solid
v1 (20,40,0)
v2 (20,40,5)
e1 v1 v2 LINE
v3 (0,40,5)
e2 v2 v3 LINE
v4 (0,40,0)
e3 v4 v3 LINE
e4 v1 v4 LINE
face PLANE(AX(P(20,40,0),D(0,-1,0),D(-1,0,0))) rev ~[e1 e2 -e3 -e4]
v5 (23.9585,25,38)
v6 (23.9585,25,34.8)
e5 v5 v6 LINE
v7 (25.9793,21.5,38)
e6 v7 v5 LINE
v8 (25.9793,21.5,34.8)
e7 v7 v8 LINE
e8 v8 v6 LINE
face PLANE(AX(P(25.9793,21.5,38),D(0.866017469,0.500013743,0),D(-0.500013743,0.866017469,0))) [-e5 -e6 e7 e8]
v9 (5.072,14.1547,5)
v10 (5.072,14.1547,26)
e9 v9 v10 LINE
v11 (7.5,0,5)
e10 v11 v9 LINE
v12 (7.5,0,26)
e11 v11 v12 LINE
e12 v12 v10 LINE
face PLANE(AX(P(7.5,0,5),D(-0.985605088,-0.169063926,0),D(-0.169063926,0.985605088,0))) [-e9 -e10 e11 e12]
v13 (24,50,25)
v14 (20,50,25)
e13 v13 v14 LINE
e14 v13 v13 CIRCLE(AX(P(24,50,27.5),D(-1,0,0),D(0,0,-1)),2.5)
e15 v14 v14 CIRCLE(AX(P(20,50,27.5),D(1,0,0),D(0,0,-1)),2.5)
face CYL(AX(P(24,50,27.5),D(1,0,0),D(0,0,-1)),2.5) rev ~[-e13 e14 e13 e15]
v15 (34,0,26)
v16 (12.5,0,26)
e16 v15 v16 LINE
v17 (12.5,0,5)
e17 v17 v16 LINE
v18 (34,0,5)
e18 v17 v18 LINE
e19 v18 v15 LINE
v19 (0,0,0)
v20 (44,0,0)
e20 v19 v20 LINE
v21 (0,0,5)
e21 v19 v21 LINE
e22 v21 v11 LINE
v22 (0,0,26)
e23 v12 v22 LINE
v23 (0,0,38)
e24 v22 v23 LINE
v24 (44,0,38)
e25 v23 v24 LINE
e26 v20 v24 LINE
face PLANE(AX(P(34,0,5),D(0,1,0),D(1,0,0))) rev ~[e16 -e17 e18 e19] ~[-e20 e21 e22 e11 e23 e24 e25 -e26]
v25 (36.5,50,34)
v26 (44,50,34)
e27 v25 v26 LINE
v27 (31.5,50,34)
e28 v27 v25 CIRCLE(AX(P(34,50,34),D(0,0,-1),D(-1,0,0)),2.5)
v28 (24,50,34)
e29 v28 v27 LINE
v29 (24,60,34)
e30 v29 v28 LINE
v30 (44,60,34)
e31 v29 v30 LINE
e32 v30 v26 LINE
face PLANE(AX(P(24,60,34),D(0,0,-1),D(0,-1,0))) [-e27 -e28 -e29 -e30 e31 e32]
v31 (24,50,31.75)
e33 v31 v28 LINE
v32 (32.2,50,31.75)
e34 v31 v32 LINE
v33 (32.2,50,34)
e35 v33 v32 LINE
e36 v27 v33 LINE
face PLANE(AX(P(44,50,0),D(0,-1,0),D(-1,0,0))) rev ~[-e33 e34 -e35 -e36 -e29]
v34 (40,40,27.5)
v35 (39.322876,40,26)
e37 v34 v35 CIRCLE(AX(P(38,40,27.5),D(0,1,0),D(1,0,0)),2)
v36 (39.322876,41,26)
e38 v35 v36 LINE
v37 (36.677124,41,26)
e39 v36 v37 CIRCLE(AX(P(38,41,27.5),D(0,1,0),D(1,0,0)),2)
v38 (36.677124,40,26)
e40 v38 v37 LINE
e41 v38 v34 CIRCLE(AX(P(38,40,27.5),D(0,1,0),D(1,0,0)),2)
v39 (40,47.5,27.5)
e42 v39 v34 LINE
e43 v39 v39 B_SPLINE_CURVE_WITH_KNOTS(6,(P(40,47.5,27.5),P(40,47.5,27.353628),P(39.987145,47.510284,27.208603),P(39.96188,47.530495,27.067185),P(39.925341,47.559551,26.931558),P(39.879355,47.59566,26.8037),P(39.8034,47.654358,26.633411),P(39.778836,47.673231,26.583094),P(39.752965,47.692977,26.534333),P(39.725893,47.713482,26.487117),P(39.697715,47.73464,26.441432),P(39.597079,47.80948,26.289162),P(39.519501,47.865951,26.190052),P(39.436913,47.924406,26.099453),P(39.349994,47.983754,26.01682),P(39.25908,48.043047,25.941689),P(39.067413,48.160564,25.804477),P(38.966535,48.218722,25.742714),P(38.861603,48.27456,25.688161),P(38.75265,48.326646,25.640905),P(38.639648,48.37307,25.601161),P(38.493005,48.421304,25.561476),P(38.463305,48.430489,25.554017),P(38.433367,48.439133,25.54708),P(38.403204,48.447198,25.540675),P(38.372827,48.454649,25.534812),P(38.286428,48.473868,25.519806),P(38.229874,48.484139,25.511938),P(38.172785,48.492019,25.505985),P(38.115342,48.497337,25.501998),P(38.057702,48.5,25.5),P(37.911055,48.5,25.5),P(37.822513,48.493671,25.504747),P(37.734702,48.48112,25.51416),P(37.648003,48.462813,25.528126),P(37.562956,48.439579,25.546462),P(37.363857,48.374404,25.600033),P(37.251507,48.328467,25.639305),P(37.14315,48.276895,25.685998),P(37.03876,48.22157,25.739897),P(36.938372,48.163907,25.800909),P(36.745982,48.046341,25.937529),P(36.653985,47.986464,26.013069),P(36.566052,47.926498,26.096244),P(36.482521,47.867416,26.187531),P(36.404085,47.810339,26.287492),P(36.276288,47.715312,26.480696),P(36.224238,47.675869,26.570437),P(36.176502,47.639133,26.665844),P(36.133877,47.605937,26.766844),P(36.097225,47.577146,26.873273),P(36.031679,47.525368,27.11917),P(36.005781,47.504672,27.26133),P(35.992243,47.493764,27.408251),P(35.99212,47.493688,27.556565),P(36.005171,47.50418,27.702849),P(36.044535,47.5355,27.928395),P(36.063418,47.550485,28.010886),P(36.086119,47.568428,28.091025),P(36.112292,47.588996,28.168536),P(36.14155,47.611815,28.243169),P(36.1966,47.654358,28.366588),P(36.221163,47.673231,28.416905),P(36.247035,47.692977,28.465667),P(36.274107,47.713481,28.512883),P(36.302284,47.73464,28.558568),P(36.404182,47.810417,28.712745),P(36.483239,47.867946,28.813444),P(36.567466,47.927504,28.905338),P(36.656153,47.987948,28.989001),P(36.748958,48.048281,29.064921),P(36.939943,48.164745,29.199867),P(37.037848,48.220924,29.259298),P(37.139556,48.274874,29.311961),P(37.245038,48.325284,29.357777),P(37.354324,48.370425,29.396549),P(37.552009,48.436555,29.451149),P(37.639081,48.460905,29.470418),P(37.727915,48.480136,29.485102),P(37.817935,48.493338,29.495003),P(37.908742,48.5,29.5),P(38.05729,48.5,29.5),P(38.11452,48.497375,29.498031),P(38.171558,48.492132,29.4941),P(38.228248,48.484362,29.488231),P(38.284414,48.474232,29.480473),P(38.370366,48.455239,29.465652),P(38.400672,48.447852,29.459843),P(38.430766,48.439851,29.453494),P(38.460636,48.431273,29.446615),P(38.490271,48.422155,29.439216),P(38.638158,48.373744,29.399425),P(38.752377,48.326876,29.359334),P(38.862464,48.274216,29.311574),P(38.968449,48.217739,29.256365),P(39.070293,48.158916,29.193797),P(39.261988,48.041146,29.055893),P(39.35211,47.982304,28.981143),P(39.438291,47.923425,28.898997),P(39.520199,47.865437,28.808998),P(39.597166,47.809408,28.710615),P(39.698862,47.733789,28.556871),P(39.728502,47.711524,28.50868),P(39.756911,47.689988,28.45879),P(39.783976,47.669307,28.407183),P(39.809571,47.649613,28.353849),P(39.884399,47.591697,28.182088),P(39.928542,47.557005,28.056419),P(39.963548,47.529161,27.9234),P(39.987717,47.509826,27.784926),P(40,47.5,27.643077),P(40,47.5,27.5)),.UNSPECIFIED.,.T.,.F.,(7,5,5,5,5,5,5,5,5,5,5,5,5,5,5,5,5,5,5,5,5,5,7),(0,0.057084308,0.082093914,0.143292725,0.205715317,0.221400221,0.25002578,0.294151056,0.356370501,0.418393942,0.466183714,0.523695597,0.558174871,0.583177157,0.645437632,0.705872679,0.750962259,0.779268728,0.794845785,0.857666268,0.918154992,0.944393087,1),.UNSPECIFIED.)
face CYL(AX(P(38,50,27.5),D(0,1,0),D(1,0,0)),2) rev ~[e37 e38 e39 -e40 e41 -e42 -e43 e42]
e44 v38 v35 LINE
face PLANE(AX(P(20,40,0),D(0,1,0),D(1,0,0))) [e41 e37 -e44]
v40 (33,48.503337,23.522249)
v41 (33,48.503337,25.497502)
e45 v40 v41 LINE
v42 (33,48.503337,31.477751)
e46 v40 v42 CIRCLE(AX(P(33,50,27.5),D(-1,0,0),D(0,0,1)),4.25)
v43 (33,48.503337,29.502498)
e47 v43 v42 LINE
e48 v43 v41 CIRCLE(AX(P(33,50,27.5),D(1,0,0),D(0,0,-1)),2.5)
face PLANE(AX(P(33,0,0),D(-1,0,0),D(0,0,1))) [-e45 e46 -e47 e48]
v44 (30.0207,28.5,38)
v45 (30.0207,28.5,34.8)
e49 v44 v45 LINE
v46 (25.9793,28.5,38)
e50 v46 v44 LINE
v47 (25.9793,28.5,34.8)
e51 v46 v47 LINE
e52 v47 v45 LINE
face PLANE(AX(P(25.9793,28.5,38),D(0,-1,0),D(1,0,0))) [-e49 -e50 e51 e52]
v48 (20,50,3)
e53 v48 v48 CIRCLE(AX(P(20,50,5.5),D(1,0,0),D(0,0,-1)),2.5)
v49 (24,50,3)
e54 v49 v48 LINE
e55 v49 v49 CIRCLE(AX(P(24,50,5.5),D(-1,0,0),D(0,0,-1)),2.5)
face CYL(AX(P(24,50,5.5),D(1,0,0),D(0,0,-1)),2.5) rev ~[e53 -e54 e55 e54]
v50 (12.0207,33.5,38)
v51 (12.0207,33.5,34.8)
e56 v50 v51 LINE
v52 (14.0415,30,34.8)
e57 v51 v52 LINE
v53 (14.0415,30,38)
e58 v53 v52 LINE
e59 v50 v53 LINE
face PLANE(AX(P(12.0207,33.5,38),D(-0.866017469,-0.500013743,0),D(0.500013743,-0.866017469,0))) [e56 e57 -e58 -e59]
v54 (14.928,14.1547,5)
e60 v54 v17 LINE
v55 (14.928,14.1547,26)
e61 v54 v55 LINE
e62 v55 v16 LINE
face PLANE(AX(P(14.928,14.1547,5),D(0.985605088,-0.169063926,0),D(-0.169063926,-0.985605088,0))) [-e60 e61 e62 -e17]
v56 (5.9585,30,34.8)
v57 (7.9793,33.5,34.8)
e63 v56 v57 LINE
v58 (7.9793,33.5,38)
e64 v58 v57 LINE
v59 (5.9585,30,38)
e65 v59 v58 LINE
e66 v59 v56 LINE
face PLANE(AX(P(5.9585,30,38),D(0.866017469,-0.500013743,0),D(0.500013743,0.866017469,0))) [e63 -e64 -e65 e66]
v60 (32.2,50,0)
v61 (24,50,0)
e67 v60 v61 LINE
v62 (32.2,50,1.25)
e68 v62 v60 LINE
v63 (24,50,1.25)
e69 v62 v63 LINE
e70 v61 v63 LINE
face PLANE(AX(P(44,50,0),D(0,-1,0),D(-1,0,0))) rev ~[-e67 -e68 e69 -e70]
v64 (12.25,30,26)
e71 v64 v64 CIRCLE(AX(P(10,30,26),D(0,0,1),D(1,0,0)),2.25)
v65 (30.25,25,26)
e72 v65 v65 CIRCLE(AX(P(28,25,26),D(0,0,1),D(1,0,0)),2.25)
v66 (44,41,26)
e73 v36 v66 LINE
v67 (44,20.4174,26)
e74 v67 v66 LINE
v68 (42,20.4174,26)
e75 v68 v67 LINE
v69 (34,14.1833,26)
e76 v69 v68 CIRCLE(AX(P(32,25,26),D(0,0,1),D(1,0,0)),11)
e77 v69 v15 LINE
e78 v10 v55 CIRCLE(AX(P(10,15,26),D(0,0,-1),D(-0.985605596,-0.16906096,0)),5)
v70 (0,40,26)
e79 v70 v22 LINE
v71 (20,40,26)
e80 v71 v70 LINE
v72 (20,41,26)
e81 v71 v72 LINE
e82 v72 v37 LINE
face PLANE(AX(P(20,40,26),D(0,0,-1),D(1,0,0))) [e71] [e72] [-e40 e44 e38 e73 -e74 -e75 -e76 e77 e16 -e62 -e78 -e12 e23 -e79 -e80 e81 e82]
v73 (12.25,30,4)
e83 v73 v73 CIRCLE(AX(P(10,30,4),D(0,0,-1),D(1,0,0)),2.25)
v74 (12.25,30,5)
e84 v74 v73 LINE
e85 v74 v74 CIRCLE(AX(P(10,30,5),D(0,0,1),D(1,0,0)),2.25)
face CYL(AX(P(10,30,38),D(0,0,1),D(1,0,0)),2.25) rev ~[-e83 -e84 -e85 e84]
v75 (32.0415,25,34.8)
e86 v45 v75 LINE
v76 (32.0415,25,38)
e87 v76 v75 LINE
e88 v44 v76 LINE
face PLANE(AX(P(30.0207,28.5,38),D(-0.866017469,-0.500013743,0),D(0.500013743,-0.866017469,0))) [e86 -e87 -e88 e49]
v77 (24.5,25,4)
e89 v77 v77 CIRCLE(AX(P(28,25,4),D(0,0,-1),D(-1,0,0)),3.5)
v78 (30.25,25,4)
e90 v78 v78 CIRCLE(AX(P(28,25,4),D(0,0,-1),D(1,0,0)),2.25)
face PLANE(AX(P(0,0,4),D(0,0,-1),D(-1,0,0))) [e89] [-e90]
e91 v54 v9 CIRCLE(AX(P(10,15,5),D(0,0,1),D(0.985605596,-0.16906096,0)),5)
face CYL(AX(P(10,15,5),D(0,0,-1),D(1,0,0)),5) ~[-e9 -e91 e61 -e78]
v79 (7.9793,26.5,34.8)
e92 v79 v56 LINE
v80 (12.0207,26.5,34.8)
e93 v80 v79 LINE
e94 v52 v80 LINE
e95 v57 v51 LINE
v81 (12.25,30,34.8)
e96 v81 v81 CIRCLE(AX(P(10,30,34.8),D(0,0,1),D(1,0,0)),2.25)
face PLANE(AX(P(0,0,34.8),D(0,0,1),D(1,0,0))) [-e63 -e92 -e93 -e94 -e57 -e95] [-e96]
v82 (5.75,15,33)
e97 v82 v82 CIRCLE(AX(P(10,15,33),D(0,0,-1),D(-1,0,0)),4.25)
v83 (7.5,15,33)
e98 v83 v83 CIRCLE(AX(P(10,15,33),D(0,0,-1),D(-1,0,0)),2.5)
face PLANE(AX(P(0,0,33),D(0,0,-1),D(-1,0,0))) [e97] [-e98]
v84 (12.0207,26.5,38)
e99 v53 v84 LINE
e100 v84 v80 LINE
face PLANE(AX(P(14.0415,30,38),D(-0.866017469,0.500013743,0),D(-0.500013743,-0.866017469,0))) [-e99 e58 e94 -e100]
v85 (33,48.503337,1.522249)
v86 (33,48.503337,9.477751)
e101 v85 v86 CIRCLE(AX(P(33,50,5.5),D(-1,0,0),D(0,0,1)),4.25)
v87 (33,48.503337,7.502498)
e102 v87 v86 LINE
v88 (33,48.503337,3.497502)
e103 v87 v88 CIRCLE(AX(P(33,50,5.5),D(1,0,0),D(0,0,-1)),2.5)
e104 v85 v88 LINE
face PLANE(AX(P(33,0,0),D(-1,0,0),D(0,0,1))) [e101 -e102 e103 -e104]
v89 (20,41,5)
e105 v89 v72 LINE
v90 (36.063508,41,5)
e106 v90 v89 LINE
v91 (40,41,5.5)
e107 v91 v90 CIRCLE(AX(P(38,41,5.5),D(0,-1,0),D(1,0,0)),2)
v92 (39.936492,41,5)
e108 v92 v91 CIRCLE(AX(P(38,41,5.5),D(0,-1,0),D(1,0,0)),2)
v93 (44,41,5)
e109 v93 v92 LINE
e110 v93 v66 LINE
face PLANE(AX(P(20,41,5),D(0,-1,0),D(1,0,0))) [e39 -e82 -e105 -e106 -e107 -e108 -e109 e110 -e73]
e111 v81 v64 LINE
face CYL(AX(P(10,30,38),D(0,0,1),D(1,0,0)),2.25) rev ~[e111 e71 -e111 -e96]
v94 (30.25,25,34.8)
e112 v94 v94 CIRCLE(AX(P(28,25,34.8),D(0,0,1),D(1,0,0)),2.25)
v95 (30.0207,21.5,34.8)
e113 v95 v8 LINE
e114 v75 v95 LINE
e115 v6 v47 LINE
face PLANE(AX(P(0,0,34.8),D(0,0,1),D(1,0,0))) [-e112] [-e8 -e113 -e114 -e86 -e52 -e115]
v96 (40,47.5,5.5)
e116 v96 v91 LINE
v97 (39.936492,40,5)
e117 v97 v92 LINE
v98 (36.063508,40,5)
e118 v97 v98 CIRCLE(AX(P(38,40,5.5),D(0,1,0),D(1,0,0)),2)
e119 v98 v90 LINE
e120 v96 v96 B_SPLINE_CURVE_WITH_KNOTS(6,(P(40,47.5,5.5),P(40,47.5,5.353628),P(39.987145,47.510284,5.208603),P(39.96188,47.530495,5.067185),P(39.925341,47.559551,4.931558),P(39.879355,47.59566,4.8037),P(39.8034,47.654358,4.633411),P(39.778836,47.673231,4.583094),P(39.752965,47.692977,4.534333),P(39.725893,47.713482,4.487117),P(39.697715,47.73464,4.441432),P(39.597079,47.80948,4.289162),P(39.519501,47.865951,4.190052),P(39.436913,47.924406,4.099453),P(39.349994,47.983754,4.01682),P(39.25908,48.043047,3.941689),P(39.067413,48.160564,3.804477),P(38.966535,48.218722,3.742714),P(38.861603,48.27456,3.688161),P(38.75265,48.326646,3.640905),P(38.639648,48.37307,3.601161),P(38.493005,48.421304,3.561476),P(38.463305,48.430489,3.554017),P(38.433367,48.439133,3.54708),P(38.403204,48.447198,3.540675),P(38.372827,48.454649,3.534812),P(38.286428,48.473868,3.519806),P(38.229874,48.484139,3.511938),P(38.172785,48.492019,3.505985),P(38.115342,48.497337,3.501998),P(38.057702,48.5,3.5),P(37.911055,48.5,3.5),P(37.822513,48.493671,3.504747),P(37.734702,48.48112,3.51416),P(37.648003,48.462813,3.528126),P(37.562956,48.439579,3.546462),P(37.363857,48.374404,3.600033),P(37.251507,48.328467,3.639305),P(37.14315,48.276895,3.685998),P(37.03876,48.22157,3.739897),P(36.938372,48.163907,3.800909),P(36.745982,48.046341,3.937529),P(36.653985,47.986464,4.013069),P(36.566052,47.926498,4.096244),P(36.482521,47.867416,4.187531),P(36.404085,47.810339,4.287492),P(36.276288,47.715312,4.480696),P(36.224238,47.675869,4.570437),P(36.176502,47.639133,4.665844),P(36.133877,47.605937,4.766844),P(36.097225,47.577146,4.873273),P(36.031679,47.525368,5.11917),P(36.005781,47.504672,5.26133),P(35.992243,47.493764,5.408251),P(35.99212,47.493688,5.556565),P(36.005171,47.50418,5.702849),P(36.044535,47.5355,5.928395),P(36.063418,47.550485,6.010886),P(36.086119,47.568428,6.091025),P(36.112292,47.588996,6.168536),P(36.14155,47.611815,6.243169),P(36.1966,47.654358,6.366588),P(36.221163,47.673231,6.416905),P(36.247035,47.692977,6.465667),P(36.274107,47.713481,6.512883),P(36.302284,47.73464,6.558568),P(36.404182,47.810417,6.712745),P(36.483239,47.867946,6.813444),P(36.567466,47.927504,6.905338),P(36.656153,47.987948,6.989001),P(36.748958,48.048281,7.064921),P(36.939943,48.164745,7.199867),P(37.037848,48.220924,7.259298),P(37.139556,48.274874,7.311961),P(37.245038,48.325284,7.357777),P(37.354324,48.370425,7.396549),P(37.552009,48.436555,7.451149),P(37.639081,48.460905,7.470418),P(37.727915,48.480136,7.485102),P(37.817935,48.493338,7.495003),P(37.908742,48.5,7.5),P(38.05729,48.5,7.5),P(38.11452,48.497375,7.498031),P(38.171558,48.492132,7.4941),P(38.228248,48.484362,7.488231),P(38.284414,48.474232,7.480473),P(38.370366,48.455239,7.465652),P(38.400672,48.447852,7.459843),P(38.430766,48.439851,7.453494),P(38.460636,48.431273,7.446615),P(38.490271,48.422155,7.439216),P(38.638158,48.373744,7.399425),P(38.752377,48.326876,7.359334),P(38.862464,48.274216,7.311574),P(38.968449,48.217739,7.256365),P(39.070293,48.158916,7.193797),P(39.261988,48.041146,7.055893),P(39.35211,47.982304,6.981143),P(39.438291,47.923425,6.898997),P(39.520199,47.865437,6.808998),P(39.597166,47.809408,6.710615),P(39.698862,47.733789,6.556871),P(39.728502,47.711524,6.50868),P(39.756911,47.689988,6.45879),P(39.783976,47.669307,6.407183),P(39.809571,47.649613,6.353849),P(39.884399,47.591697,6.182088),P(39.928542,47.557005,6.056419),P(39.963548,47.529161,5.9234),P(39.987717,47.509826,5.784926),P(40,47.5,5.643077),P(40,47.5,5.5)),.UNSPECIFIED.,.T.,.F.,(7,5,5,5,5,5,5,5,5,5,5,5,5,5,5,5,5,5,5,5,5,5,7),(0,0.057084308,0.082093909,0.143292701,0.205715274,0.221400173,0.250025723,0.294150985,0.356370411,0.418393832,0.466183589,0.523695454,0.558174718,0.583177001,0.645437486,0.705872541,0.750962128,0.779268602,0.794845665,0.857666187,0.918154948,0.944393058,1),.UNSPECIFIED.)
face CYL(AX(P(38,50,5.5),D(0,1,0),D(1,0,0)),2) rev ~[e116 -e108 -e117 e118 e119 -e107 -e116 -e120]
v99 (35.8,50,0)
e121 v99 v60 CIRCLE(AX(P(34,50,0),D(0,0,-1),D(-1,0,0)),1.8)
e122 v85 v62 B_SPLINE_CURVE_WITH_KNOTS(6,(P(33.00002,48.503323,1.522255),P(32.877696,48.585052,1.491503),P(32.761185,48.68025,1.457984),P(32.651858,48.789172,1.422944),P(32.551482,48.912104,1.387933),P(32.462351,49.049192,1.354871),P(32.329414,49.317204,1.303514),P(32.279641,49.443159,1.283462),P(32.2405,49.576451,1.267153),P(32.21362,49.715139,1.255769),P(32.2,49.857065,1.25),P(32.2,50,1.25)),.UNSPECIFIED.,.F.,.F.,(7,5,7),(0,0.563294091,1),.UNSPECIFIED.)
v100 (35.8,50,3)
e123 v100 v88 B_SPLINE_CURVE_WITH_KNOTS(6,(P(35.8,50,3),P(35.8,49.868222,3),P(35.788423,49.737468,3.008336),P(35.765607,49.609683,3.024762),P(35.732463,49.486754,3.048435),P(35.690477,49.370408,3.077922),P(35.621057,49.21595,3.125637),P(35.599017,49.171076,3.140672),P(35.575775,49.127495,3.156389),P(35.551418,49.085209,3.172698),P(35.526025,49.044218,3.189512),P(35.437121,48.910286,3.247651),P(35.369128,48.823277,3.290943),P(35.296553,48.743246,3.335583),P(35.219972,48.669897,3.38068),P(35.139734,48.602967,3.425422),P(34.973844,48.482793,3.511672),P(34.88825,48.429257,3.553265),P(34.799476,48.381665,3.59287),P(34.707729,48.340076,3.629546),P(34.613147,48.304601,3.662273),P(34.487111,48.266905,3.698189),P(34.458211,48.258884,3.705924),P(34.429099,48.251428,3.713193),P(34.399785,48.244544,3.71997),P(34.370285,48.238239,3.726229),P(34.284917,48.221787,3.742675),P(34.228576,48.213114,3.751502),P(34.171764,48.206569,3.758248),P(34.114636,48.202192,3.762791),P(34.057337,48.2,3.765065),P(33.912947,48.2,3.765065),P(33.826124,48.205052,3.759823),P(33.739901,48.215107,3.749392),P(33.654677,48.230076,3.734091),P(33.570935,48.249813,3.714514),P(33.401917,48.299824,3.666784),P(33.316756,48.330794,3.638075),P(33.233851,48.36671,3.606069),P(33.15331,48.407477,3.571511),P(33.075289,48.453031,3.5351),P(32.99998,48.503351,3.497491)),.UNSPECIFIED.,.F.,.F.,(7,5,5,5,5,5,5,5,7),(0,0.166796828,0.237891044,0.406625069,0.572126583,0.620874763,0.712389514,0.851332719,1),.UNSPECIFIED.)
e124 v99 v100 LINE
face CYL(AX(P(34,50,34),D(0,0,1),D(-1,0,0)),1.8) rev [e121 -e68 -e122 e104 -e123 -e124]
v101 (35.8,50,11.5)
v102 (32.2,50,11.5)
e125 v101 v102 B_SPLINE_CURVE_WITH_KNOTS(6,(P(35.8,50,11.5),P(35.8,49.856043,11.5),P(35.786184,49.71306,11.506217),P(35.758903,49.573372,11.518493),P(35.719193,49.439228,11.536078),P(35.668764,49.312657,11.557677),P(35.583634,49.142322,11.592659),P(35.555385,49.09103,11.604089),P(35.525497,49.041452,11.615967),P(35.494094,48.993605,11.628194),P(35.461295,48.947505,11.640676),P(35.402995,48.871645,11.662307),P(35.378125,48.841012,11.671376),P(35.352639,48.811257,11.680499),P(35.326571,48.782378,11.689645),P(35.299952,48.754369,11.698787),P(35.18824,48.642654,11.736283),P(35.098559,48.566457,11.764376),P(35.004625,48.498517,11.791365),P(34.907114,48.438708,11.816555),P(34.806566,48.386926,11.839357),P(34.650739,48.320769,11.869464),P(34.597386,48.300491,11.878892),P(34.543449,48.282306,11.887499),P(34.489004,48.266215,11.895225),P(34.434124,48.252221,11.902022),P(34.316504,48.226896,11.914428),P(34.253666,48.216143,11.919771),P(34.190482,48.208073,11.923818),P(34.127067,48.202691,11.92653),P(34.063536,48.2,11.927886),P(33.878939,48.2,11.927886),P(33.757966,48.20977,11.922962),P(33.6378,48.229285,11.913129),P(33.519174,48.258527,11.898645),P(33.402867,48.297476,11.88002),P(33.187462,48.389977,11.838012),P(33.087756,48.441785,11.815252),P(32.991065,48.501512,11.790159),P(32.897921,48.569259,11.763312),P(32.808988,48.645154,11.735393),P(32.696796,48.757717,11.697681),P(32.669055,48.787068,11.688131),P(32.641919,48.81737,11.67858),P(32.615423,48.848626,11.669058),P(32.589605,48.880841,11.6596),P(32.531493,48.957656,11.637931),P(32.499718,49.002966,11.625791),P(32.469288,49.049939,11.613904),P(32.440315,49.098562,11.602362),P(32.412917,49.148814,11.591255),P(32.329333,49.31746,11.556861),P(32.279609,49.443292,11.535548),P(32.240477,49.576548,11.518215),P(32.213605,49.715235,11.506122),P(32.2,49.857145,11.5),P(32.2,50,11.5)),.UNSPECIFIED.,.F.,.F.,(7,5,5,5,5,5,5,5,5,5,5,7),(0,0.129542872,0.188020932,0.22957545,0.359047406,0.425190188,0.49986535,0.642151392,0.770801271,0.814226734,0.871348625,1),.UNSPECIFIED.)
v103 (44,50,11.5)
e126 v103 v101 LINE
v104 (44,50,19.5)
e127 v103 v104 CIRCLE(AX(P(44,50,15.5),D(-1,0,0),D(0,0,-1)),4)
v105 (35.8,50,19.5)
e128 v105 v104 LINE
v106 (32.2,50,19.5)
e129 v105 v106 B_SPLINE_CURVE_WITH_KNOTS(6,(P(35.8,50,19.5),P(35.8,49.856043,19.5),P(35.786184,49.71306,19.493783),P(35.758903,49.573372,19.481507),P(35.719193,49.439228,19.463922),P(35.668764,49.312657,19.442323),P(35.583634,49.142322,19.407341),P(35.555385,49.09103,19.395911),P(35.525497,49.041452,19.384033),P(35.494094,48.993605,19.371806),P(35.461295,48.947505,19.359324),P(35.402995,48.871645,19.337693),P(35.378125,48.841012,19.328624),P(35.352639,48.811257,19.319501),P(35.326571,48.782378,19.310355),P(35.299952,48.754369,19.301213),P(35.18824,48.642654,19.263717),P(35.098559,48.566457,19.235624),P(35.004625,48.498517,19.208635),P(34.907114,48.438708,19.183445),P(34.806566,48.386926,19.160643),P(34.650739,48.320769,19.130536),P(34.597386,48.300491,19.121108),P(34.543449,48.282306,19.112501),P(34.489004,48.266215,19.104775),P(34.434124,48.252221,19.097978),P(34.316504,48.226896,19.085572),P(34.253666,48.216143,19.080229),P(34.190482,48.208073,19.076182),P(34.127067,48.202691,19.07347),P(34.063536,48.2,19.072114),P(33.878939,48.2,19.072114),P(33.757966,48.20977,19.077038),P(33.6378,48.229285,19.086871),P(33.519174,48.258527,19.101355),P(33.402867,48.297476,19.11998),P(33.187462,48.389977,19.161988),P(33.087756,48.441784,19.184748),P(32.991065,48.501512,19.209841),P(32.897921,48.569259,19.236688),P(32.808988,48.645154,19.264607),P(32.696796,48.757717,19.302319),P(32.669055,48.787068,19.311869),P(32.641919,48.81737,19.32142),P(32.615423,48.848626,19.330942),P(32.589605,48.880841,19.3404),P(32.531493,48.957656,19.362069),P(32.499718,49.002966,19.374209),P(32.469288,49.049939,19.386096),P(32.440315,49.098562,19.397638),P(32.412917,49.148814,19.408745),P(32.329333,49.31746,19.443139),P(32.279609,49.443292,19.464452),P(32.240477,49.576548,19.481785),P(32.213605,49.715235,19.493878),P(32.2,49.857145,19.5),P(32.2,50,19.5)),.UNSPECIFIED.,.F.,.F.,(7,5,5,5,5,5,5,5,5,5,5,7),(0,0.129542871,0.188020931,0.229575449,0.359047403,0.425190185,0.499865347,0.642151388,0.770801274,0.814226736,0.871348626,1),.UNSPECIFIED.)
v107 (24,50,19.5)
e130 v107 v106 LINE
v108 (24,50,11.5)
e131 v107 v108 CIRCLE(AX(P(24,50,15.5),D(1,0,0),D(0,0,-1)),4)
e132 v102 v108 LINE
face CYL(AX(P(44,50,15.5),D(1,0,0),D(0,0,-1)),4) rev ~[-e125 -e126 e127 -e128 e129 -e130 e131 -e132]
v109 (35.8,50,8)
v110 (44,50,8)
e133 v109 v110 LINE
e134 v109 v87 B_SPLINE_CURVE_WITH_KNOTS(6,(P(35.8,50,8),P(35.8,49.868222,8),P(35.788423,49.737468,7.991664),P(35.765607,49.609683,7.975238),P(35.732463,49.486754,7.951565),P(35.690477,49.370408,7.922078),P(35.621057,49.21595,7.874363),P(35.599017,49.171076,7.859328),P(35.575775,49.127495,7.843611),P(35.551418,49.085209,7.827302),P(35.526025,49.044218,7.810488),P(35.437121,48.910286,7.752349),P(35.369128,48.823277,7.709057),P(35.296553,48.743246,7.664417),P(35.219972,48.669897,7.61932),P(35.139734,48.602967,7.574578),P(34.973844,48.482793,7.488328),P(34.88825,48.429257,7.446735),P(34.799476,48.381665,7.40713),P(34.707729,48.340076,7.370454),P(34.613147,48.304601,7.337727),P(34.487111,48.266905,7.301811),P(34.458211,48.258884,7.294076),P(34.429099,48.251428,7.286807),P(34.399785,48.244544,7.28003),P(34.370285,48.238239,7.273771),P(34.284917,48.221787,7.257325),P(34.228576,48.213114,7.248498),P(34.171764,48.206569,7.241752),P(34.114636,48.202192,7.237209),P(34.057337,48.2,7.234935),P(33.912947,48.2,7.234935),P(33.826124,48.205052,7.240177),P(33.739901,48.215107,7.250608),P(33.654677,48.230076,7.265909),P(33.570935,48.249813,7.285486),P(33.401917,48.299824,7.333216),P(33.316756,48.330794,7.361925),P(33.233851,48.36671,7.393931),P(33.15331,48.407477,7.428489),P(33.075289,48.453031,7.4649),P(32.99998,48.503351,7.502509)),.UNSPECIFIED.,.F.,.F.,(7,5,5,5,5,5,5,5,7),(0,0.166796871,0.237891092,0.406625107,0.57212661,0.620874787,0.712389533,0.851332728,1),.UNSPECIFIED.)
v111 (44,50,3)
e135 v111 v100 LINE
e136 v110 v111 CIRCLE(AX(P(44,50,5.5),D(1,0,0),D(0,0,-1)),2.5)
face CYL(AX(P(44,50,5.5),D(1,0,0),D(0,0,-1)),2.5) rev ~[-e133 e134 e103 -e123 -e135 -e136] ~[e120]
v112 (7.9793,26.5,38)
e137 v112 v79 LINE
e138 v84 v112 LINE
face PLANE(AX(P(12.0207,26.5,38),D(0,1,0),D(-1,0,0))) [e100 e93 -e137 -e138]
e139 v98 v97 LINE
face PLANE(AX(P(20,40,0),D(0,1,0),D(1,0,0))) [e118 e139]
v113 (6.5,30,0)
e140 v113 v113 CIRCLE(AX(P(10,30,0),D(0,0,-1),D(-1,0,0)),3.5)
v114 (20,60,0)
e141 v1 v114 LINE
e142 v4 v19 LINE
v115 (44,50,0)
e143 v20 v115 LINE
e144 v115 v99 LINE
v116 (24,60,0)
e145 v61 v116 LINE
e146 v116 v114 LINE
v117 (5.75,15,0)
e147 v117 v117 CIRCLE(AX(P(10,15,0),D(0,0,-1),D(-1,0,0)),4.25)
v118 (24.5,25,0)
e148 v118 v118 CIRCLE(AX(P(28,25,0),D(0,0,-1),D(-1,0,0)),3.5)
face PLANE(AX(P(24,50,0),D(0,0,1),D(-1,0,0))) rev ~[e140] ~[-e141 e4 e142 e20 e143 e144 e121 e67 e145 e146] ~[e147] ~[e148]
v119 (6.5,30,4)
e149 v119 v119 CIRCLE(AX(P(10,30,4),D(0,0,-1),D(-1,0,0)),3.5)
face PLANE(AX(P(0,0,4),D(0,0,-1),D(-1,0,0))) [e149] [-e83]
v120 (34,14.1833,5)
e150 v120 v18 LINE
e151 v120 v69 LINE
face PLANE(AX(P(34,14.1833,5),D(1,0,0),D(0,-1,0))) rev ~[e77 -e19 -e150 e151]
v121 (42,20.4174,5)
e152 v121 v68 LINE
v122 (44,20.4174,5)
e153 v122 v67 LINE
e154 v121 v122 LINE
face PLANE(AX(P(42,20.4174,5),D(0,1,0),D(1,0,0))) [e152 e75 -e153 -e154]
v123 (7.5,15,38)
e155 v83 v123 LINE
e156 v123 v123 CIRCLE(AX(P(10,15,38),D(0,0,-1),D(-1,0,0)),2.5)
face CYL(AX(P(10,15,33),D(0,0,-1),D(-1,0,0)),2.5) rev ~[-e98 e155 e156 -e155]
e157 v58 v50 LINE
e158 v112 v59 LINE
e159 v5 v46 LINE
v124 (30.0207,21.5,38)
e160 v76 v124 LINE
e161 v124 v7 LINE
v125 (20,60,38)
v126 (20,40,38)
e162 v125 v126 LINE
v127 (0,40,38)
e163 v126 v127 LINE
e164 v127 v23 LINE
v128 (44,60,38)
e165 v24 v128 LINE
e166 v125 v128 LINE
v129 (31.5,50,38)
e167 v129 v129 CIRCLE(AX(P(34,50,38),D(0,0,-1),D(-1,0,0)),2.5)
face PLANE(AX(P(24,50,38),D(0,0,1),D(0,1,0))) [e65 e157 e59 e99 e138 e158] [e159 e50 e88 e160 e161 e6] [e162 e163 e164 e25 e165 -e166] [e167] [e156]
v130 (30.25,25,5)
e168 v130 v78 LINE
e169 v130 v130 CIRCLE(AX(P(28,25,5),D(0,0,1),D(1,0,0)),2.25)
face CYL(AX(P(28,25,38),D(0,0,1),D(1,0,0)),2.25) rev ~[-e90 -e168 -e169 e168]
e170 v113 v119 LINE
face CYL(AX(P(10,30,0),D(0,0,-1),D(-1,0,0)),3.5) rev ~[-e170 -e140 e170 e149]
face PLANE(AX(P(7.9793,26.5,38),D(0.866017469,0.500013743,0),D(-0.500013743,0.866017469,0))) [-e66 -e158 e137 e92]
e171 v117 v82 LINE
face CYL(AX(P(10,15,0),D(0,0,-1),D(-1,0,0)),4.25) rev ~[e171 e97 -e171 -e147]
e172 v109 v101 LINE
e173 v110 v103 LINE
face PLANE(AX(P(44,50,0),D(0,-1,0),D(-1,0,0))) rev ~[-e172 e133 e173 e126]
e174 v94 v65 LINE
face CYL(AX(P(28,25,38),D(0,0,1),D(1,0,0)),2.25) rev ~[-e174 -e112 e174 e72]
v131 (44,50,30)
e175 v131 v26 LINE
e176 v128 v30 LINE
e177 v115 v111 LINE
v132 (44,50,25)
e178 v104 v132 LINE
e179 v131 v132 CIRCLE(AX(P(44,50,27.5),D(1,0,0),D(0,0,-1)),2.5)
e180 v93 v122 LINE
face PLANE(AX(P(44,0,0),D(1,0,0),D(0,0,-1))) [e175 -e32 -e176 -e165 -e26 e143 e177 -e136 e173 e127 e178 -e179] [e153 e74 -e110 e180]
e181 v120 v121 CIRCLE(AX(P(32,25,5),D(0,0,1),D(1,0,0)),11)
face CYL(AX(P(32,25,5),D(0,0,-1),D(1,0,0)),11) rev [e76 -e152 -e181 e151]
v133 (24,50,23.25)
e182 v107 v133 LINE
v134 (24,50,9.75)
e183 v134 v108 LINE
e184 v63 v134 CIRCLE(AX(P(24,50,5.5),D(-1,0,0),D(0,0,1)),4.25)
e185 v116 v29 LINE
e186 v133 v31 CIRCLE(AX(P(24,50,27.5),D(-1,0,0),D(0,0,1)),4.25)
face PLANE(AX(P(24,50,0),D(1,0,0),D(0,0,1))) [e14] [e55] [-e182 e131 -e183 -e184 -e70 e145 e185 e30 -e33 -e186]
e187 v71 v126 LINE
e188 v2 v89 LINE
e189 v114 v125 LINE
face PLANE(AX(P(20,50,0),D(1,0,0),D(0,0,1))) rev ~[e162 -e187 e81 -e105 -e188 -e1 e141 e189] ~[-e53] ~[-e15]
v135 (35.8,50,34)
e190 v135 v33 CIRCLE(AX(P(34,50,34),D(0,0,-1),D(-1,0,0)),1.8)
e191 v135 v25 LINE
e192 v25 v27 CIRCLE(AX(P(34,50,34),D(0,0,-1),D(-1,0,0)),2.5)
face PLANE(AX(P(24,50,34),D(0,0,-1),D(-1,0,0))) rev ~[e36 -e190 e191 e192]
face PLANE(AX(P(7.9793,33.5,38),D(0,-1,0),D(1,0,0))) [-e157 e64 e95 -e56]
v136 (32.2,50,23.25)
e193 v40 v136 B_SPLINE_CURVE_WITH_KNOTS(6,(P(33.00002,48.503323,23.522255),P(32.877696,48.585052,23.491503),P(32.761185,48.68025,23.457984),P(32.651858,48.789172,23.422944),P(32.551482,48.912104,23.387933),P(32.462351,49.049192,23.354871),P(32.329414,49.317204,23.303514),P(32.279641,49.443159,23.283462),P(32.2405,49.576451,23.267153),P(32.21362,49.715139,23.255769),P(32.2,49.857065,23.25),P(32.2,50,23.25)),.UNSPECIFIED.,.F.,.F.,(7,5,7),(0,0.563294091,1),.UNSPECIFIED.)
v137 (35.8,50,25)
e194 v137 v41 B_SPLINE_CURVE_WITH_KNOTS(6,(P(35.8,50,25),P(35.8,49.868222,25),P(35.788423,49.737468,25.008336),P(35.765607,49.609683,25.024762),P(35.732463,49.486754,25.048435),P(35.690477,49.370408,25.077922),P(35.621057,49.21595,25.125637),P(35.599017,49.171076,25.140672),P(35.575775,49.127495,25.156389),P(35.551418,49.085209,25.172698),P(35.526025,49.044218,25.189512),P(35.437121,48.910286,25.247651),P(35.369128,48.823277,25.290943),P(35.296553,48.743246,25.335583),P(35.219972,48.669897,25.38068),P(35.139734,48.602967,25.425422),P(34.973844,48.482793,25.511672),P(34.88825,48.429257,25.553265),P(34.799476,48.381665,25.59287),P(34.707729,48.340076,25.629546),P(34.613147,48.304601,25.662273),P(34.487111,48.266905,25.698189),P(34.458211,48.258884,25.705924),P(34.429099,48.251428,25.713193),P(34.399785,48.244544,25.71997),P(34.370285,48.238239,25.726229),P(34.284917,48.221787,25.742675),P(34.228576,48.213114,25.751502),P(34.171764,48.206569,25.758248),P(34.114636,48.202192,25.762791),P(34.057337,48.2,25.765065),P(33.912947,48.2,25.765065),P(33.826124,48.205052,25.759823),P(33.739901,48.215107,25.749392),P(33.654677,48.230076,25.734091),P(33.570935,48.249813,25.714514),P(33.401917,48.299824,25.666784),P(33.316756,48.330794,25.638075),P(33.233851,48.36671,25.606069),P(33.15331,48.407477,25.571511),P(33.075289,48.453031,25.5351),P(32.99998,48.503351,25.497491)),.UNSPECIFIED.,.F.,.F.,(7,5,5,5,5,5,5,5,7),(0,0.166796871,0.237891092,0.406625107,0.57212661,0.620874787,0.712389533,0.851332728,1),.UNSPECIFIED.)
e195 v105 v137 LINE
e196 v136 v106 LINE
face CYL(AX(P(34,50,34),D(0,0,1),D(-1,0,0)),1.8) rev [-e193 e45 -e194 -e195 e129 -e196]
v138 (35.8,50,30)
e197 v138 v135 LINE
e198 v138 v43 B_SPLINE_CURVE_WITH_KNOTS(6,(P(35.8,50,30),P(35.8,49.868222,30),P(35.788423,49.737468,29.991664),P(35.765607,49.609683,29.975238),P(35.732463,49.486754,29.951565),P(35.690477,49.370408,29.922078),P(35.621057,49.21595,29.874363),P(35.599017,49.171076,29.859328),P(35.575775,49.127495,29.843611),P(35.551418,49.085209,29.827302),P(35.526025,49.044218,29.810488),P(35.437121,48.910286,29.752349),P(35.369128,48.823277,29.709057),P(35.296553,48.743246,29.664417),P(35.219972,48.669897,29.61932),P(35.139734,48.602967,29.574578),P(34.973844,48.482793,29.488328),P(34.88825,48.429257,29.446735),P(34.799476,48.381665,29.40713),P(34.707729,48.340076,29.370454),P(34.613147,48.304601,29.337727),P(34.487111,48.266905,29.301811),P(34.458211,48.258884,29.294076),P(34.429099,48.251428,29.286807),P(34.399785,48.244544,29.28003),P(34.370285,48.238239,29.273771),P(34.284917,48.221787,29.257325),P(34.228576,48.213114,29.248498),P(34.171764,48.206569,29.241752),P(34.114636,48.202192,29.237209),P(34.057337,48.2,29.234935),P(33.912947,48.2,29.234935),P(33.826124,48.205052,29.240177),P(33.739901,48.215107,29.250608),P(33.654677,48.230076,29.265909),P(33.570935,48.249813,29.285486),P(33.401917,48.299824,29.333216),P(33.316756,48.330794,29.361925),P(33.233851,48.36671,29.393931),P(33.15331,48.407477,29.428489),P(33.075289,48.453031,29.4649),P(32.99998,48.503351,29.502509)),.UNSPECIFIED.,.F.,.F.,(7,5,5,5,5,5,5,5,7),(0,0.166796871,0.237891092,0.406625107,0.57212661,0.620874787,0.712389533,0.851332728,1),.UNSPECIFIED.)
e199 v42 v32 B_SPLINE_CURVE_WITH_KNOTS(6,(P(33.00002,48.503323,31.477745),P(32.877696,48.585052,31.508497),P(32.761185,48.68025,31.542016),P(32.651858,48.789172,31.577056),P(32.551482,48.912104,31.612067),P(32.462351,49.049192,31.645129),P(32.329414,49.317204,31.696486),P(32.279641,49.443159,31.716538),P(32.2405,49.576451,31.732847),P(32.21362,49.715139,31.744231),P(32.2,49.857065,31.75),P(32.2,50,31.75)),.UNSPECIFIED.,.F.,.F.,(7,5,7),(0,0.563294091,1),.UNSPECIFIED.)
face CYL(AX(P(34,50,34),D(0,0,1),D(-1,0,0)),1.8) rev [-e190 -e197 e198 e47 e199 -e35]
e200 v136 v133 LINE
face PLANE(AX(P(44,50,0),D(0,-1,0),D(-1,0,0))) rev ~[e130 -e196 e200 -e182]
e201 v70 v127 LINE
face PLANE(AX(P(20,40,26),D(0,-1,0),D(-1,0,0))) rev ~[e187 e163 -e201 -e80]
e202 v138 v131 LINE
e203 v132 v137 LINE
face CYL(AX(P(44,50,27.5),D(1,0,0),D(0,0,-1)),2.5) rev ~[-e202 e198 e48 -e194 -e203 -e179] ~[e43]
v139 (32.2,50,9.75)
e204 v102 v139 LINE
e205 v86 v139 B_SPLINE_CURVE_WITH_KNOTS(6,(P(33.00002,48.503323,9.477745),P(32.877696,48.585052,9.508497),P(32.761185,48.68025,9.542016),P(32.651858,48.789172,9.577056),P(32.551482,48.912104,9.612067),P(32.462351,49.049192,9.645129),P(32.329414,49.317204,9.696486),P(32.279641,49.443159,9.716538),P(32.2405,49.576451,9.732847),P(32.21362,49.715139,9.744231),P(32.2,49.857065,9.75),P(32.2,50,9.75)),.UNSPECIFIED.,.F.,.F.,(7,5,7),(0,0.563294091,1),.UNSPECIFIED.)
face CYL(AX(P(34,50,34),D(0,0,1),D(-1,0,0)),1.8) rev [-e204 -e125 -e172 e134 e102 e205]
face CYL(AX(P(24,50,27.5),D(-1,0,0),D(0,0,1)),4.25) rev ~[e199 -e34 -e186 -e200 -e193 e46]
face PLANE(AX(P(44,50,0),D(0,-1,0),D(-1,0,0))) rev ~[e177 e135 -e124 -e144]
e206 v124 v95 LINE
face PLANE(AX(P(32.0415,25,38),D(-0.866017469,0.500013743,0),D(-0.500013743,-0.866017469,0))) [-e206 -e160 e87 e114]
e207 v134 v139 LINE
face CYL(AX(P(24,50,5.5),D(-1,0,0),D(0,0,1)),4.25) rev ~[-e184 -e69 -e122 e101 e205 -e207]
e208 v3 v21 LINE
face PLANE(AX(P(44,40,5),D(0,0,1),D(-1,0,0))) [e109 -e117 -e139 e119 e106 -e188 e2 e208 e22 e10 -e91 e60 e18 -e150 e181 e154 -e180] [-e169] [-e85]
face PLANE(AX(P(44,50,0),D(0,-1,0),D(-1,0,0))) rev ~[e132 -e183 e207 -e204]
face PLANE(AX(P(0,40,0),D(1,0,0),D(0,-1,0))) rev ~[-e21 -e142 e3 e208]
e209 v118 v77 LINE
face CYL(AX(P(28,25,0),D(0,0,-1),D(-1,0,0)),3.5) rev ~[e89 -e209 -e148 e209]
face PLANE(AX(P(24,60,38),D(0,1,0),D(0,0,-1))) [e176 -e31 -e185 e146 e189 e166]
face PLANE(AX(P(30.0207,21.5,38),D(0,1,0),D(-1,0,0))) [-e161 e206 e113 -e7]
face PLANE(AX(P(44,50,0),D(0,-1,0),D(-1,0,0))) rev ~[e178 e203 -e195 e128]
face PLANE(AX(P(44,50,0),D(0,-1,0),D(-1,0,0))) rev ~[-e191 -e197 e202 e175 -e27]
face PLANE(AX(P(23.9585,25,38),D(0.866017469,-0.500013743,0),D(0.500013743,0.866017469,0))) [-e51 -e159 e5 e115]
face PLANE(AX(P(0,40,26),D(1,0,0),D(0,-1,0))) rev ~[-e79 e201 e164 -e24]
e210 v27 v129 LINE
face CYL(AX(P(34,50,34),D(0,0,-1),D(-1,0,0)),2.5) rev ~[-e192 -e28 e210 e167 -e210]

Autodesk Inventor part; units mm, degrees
ref_plane "YZ Plane" through (0, 0, 0) normal (1, 0, 0) x (0, 1, 0)
ref_plane "XZ Plane" through (0, 0, 0) normal (0, 1, 0) x (-1, 0, 0)
ref_plane "XY Plane" through (0, 0, 0) normal (0, 0, 1) x (1, 0, 0)
sketch "Sketch1" plane through (0, 0, 0) normal (0, 0, 1) x (1, 0, 0)
  line L0 (0, 0) -> (44, 0)
  line L1 (44, 0) -> (44, 50)
  line L2 (44, 50) -> (20, 50)
  line L3 (20, 50) -> (20, 40)
  line L4 (20, 40) -> (0, 40)
  line L5 (0, 40) -> (0, 0)
  dimension "d0" = 44
  dimension "d1" = 50
  dimension "d2" = 24
  dimension "d3" = 10
extrude "Extrusion1" add sketch "Sketch1" along normal blind 5
sketch "Sketch2" plane through (0, 0, 5) normal (0, 0, 1) x (1, 0, 0)
  line L0 (44, 0) -> (44, 50) projected
  line L1 (44, 50) -> (20, 50) projected
  line L2 (20, 50) -> (20, 40) projected
  line L3 (20, 40) -> (44, 40)
extrude "Extrusion2" add sketch "Sketch2" along normal blind 21
sketch "Sketch3" plane through (0, 0, 5) normal (0, 0, 1) x (1, 0, 0)
  line L0 (0, 40) -> (0, 0) projected
  line L1 (0, 0) -> (44, 0) projected
  circle A0 centre (10, 15) radius 5
  line L2 (7.5, 0) -> (5.072, 14.1547)
  line L3 (14.928, 14.1547) -> (12.5, 0)
  dimension "d8" = 10
  dimension "d9" = 15
  dimension "d10" = 10
  dimension "d11" = 7.5
  dimension "d12" = 5
extrude "Extrusion3" add sketch "Sketch3" along normal blind 21
sketch "Sketch4" plane through (0, 0, 5) normal (0, 0, 1) x (1, 0, 0)
  line L0 (12.5, 0) -> (44, 0) projected
  line L1 (44, 0) -> (44, 40) projected
  circle A0 centre (32, 25) radius 11
  line L2 (34, 14.1833) -> (34, 0)
  line L3 (42, 20.4174) -> (44, 20.4174)
  dimension "d15" = 22
  dimension "d16" = 25
  dimension "d17" = 12
  dimension "d18" = 10
  dimension "d23" = 2
extrude "Extrusion4" add sketch "Sketch4" along normal blind 21 contours L2 A0 L3 L1 L0
sketch "Sketch5" plane through (0, 0, 26) normal (0, 0, 1) x (1, 0, 0)
  line L0 (44, 50) -> (20, 50) projected
  line L1 (20, 50) -> (20, 40) projected
  line L2 (20, 40) -> (44, 40) projected
  line L3 (44, 40) -> (44, 50) projected
  line L4 (42, 20.4174) -> (44, 20.4174) projected
  line L5 (44, 20.4174) -> (44, 40) projected
  line L6 (44, 40) -> (20, 40) projected
  line L7 (20, 40) -> (0, 40) projected
  line L8 (0, 40) -> (0, 0) projected
  line L9 (0, 0) -> (7.5, 0) projected
  line L10 (7.5, 0) -> (5.072, 14.1547) projected
  arc A0 (14.928, 14.1547) -> (5.072, 14.1547) centre (10, 15) ccw projected
  line L11 (14.928, 14.1547) -> (12.5, 0) projected
  line L12 (12.5, 0) -> (34, 0) projected
  line L13 (34, 0) -> (34, 14.1833) projected
  arc A1 (34, 14.1833) -> (42, 20.4174) centre (32, 25) ccw projected
  arc A2 (14.928, 14.1547) -> (5.072, 14.1547) centre (10, 15) ccw projected
  line L14 (5.072, 14.1547) -> (7.5, 0) projected
  line L15 (7.5, 0) -> (12.5, 0) projected
  line L16 (12.5, 0) -> (14.928, 14.1547) projected
  line L17 (44, 0) -> (44, 20.4174) projected
  line L18 (44, 20.4174) -> (42, 20.4174) projected
  arc A3 (34, 14.1833) -> (42, 20.4174) centre (32, 25) ccw projected
  line L19 (34, 14.1833) -> (34, 0) projected
  line L20 (34, 0) -> (44, 0) projected
extrude "Extrusion5" add sketch "Sketch5" along normal blind 12
sketch "Sketch6" plane through (0, 0, 38) normal (0, 0, 1) x (1, 0, 0)
  line L0 (20, 40) -> (0, 40) projected
  line L1 (0, 40) -> (0, 0) projected
  line L2 (0, 0) -> (44, 0) projected
  circle A0 centre (28, 25) radius 2.25
  circle A1 centre (10, 30) radius 2.25
  dimension "d24" = 4.5
  dimension "d26" = 25
  dimension "d28" = 10
  dimension "d29" = 10
  dimension "d60" = 28
extrude "Extrusion6" cut sketch "Sketch6" against normal up to surface (38 mm away)
sketch "Sketch7" plane through (0, 0, 0) normal (0, 0, -1) x (-1, 0, 0)
  circle A0 centre (-28, 25) radius 2.25 projected
  circle A1 centre (-10, 30) radius 2.25 projected
  circle A2 centre (-28, 25) radius 3.5
  circle A3 centre (-10, 30) radius 3.5
  dimension "d112" = 7
  dimension "d113" = 7
extrude "Extrusion7" cut sketch "Sketch7" against normal blind 4
sketch "Sketch8" plane through (44, 0, 0) normal (1, 0, 0) x (0, 0, -1)
  line L0 (0, 50) -> (-38, 50)
  circle A0 centre (-15.5, 50) radius 4
  line L1 (-38, 0) -> (-38, 50) projected
  line L2 (0, 50) -> (-38, 50) projected
  dimension "d35" = 8
  dimension "d38" = 22.5
extrude "Extrusion8" cut sketch "Sketch8" against normal blind 20
sketch "Sketch9" plane through (0, 0, 38) normal (0, 0, 1) x (1, 0, 0)
  circle A0 centre (28, 25) radius 2.25 projected
  circle A1 centre (10, 30) radius 2.25 projected
  circle A2 centre (10, 30) radius 2.25 projected
  line L0 (14.0415, 30) -> (12.0207, 26.5)
  line L1 (12.0207, 26.5) -> (7.9793, 26.5)
  line L2 (7.9793, 26.5) -> (5.9585, 30)
  line L3 (5.9585, 30) -> (7.9793, 33.5)
  line L4 (7.9793, 33.5) -> (12.0207, 33.5)
  line L5 (12.0207, 33.5) -> (14.0415, 30)
  line L6 (32.0415, 25) -> (30.0207, 21.5)
  line L7 (30.0207, 21.5) -> (25.9793, 21.5)
  line L8 (25.9793, 21.5) -> (23.9585, 25)
  line L9 (23.9585, 25) -> (25.9793, 28.5)
  line L10 (25.9793, 28.5) -> (30.0207, 28.5)
  line L11 (30.0207, 28.5) -> (32.0415, 25)
  dimension "d110" = 7
  dimension "d111" = 7
extrude "Extrusion9" cut sketch "Sketch9" against normal blind 3.2
sketch "Sketch10" plane through (0, 0, 0) normal (0, 0, -1) x (-1, 0, 0)
  arc A0 (-5.072, 14.1547) -> (-14.928, 14.1547) centre (-10, 15) ccw projected
  arc A1 (-5.072, 14.1547) -> (-14.928, 14.1547) centre (-10, 15) ccw projected
  circle A2 centre (-10, 15) radius 4.25
  dimension "d43" = 8.5
extrude "Extrusion10" cut sketch "Sketch10" against normal blind 33
sketch "Sketch11" plane through (10, 15, 33) normal (0, 0, -1) x (-1, 0, 0)
  circle A0 centre (0, 0) radius 4.25 projected
  circle A1 centre (0, 0) radius 2.5
  point P0 (10, -15)
  dimension "d46" = 5
extrude "Extrusion11" cut sketch "Sketch11" against normal up to next contours A1
sketch "Sketch12" plane through (20, 50, 0) normal (0, 1, 0) x (1, 0, 0)
  line L0 (24, 0) -> (24, -11.5) projected
  line L1 (24, -19.5) -> (4, -19.5) projected
  line L2 (0, 0) -> (0, -38) projected
  line L3 (24, -38) -> (0, -38) projected
  line L4 (24, -19.5) -> (24, -38) projected
  circle A0 centre (18, -5.5) radius 2
  circle A1 centre (18, -27.5) radius 2
  line L5 (4, -19.5) -> (4, -11.5) projected
  line L6 (4, -11.5) -> (24, -11.5) projected
  line L7 (24, 0) -> (24, -11.5) projected
  line L8 (24, 0) -> (0, 0) projected
  point P0 (-20, 0)
  dimension "d49" = 4
  dimension "d50" = 4
  dimension "d53" = 6
  dimension "d131" = 6
  dimension "d132" = 8
extrude "Extrusion12" cut sketch "Sketch12" against normal up to surface (10 mm away) contours A0 | A1
sketch "Sketch15" plane through (20, 50, 0) normal (0, 1, 0) x (1, 0, 0)
  line L0 (24, 0) -> (0, 0) projected
  line L1 (0, 0) -> (0, -38) projected
  line L2 (24, -38) -> (0, -38) projected
  line L3 (4, 0) -> (4, -38)
  point P0 (4, -19.5)
  point P1 (-20, 0)
extrude "Extrusion15" add sketch "Sketch15" along normal blind 10
sketch "Sketch16" plane through (24, 0, 0) normal (1, 0, 0) x (0, 0, -1)
  line L0 (-38, 60) -> (0, 60) projected
  line L1 (-38, 50) -> (-38, 60) projected
  line L2 (-19.5, 50) -> (-38, 50) projected
  line L3 (-34, 60) -> (-34, 50)
  point P0 (0, 0)
  dimension "d72" = 4
extrude "Extrusion16" add sketch "Sketch16" along normal up to surface (20 mm away)
sketch "Sketch17" plane through (24, 0, 0) normal (1, 0, 0) x (0, 0, -1)
  arc A0 (-19.5, 50) -> (-11.5, 50) centre (-15.5, 50) ccw projected
  line L0 (-34, 60) -> (0, 60) projected
  circle A1 centre (-27.5, 50) radius 2.5
  circle A2 centre (-5.5, 50) radius 2.5
  point P0 (0, 0)
  dimension "d75" = 5
  dimension "d76" = 5
  dimension "d77" = 10
  dimension "d78" = 12
  dimension "d79" = 10
extrude "Extrusion17" cut sketch "Sketch17" against normal up to next
sketch "Sketch18" plane through (24, 0, 0) normal (-1, 0, 0) x (0, 0, 1)
  arc A0 (25, 50) -> (30, 50) centre (27.5, 50) ccw projected
  line L0 (3, 50) -> (8, 50) projected
  arc A1 (3, 50) -> (8, 50) centre (5.5, 50) ccw projected
  circle A2 centre (5.5, 50) radius 4.25
  circle A3 centre (27.5, 50) radius 4.25
  point P0 (0, 0)
  point P1 (34, 52.4495)
  dimension "d82" = 8.5
  dimension "d83" = 8.5
extrude "Extrusion18" cut sketch "Sketch18" against normal blind 9 contours L0 A1 | A2 | A3
sketch "Sketch19" plane through (44, 0, 0) normal (1, 0, 0) x (0, 0, -1)
  circle A0 centre (-27.5, 50) radius 2.5 projected
  circle A1 centre (-27.5, 50) radius 2.5 projected
  circle A2 centre (-5.5, 50) radius 2.5 projected
  circle A3 centre (-5.5, 50) radius 2.5 projected
extrude "Extrusion19" cut sketch "Sketch19" against normal blind 13
sketch "Sketch20" plane through (24, 50, 34) normal (0, 0, -1) x (-1, 0, 0)
  line L0 (0, 10) -> (-20, 10) projected
  circle A0 centre (-10, 0) radius 2.5
  line L1 (0, 10) -> (0, 0) projected
  point P0 (24, -50)
  point P1 (0, 2.4109)
  dimension "d88" = 5
  dimension "d89" = 10
  dimension "d109" = 10
extrude "Extrusion20" cut sketch "Sketch20" against normal up to next
sketch "Sketch23" plane through (24, 50, 34) normal (0, 0, -1) x (-1, 0, 0)
  arc A0 (-7.5, 0) -> (-12.5, 0) centre (-10, 0) ccw projected
  circle A1 centre (-10, 0) radius 1.8
  point P0 (24, -50)
  point P1 (-9, 2.2913)
  point P2 (-9.5, 2.4495)
  point P3 (-10.5, 2.4495)
  dimension "d98" = 3.6
extrude "Extrusion23" cut sketch "Sketch23" along normal up to surface (34 mm away)
sketch "Sketch28" plane through (20, 40, 5) normal (0, -1, 0) x (1, 0, 0)
  circle A0 centre (18, 0.5) radius 2 projected
  line L0 (24, 0) -> (0, 0) projected
  line L1 (24, 0) -> (24, 21) projected
  line L2 (0, 21) -> (24, 21) projected
  line L3 (0, 0) -> (0, 21) projected
  point P0 (-20, -5)
extrude "Extrusion26" cut sketch "Sketch28" against normal blind 1 contours A0 L0 L3 L2 L1
properties part number "YAxisIdlerBlock" material "ABS Plastic"
